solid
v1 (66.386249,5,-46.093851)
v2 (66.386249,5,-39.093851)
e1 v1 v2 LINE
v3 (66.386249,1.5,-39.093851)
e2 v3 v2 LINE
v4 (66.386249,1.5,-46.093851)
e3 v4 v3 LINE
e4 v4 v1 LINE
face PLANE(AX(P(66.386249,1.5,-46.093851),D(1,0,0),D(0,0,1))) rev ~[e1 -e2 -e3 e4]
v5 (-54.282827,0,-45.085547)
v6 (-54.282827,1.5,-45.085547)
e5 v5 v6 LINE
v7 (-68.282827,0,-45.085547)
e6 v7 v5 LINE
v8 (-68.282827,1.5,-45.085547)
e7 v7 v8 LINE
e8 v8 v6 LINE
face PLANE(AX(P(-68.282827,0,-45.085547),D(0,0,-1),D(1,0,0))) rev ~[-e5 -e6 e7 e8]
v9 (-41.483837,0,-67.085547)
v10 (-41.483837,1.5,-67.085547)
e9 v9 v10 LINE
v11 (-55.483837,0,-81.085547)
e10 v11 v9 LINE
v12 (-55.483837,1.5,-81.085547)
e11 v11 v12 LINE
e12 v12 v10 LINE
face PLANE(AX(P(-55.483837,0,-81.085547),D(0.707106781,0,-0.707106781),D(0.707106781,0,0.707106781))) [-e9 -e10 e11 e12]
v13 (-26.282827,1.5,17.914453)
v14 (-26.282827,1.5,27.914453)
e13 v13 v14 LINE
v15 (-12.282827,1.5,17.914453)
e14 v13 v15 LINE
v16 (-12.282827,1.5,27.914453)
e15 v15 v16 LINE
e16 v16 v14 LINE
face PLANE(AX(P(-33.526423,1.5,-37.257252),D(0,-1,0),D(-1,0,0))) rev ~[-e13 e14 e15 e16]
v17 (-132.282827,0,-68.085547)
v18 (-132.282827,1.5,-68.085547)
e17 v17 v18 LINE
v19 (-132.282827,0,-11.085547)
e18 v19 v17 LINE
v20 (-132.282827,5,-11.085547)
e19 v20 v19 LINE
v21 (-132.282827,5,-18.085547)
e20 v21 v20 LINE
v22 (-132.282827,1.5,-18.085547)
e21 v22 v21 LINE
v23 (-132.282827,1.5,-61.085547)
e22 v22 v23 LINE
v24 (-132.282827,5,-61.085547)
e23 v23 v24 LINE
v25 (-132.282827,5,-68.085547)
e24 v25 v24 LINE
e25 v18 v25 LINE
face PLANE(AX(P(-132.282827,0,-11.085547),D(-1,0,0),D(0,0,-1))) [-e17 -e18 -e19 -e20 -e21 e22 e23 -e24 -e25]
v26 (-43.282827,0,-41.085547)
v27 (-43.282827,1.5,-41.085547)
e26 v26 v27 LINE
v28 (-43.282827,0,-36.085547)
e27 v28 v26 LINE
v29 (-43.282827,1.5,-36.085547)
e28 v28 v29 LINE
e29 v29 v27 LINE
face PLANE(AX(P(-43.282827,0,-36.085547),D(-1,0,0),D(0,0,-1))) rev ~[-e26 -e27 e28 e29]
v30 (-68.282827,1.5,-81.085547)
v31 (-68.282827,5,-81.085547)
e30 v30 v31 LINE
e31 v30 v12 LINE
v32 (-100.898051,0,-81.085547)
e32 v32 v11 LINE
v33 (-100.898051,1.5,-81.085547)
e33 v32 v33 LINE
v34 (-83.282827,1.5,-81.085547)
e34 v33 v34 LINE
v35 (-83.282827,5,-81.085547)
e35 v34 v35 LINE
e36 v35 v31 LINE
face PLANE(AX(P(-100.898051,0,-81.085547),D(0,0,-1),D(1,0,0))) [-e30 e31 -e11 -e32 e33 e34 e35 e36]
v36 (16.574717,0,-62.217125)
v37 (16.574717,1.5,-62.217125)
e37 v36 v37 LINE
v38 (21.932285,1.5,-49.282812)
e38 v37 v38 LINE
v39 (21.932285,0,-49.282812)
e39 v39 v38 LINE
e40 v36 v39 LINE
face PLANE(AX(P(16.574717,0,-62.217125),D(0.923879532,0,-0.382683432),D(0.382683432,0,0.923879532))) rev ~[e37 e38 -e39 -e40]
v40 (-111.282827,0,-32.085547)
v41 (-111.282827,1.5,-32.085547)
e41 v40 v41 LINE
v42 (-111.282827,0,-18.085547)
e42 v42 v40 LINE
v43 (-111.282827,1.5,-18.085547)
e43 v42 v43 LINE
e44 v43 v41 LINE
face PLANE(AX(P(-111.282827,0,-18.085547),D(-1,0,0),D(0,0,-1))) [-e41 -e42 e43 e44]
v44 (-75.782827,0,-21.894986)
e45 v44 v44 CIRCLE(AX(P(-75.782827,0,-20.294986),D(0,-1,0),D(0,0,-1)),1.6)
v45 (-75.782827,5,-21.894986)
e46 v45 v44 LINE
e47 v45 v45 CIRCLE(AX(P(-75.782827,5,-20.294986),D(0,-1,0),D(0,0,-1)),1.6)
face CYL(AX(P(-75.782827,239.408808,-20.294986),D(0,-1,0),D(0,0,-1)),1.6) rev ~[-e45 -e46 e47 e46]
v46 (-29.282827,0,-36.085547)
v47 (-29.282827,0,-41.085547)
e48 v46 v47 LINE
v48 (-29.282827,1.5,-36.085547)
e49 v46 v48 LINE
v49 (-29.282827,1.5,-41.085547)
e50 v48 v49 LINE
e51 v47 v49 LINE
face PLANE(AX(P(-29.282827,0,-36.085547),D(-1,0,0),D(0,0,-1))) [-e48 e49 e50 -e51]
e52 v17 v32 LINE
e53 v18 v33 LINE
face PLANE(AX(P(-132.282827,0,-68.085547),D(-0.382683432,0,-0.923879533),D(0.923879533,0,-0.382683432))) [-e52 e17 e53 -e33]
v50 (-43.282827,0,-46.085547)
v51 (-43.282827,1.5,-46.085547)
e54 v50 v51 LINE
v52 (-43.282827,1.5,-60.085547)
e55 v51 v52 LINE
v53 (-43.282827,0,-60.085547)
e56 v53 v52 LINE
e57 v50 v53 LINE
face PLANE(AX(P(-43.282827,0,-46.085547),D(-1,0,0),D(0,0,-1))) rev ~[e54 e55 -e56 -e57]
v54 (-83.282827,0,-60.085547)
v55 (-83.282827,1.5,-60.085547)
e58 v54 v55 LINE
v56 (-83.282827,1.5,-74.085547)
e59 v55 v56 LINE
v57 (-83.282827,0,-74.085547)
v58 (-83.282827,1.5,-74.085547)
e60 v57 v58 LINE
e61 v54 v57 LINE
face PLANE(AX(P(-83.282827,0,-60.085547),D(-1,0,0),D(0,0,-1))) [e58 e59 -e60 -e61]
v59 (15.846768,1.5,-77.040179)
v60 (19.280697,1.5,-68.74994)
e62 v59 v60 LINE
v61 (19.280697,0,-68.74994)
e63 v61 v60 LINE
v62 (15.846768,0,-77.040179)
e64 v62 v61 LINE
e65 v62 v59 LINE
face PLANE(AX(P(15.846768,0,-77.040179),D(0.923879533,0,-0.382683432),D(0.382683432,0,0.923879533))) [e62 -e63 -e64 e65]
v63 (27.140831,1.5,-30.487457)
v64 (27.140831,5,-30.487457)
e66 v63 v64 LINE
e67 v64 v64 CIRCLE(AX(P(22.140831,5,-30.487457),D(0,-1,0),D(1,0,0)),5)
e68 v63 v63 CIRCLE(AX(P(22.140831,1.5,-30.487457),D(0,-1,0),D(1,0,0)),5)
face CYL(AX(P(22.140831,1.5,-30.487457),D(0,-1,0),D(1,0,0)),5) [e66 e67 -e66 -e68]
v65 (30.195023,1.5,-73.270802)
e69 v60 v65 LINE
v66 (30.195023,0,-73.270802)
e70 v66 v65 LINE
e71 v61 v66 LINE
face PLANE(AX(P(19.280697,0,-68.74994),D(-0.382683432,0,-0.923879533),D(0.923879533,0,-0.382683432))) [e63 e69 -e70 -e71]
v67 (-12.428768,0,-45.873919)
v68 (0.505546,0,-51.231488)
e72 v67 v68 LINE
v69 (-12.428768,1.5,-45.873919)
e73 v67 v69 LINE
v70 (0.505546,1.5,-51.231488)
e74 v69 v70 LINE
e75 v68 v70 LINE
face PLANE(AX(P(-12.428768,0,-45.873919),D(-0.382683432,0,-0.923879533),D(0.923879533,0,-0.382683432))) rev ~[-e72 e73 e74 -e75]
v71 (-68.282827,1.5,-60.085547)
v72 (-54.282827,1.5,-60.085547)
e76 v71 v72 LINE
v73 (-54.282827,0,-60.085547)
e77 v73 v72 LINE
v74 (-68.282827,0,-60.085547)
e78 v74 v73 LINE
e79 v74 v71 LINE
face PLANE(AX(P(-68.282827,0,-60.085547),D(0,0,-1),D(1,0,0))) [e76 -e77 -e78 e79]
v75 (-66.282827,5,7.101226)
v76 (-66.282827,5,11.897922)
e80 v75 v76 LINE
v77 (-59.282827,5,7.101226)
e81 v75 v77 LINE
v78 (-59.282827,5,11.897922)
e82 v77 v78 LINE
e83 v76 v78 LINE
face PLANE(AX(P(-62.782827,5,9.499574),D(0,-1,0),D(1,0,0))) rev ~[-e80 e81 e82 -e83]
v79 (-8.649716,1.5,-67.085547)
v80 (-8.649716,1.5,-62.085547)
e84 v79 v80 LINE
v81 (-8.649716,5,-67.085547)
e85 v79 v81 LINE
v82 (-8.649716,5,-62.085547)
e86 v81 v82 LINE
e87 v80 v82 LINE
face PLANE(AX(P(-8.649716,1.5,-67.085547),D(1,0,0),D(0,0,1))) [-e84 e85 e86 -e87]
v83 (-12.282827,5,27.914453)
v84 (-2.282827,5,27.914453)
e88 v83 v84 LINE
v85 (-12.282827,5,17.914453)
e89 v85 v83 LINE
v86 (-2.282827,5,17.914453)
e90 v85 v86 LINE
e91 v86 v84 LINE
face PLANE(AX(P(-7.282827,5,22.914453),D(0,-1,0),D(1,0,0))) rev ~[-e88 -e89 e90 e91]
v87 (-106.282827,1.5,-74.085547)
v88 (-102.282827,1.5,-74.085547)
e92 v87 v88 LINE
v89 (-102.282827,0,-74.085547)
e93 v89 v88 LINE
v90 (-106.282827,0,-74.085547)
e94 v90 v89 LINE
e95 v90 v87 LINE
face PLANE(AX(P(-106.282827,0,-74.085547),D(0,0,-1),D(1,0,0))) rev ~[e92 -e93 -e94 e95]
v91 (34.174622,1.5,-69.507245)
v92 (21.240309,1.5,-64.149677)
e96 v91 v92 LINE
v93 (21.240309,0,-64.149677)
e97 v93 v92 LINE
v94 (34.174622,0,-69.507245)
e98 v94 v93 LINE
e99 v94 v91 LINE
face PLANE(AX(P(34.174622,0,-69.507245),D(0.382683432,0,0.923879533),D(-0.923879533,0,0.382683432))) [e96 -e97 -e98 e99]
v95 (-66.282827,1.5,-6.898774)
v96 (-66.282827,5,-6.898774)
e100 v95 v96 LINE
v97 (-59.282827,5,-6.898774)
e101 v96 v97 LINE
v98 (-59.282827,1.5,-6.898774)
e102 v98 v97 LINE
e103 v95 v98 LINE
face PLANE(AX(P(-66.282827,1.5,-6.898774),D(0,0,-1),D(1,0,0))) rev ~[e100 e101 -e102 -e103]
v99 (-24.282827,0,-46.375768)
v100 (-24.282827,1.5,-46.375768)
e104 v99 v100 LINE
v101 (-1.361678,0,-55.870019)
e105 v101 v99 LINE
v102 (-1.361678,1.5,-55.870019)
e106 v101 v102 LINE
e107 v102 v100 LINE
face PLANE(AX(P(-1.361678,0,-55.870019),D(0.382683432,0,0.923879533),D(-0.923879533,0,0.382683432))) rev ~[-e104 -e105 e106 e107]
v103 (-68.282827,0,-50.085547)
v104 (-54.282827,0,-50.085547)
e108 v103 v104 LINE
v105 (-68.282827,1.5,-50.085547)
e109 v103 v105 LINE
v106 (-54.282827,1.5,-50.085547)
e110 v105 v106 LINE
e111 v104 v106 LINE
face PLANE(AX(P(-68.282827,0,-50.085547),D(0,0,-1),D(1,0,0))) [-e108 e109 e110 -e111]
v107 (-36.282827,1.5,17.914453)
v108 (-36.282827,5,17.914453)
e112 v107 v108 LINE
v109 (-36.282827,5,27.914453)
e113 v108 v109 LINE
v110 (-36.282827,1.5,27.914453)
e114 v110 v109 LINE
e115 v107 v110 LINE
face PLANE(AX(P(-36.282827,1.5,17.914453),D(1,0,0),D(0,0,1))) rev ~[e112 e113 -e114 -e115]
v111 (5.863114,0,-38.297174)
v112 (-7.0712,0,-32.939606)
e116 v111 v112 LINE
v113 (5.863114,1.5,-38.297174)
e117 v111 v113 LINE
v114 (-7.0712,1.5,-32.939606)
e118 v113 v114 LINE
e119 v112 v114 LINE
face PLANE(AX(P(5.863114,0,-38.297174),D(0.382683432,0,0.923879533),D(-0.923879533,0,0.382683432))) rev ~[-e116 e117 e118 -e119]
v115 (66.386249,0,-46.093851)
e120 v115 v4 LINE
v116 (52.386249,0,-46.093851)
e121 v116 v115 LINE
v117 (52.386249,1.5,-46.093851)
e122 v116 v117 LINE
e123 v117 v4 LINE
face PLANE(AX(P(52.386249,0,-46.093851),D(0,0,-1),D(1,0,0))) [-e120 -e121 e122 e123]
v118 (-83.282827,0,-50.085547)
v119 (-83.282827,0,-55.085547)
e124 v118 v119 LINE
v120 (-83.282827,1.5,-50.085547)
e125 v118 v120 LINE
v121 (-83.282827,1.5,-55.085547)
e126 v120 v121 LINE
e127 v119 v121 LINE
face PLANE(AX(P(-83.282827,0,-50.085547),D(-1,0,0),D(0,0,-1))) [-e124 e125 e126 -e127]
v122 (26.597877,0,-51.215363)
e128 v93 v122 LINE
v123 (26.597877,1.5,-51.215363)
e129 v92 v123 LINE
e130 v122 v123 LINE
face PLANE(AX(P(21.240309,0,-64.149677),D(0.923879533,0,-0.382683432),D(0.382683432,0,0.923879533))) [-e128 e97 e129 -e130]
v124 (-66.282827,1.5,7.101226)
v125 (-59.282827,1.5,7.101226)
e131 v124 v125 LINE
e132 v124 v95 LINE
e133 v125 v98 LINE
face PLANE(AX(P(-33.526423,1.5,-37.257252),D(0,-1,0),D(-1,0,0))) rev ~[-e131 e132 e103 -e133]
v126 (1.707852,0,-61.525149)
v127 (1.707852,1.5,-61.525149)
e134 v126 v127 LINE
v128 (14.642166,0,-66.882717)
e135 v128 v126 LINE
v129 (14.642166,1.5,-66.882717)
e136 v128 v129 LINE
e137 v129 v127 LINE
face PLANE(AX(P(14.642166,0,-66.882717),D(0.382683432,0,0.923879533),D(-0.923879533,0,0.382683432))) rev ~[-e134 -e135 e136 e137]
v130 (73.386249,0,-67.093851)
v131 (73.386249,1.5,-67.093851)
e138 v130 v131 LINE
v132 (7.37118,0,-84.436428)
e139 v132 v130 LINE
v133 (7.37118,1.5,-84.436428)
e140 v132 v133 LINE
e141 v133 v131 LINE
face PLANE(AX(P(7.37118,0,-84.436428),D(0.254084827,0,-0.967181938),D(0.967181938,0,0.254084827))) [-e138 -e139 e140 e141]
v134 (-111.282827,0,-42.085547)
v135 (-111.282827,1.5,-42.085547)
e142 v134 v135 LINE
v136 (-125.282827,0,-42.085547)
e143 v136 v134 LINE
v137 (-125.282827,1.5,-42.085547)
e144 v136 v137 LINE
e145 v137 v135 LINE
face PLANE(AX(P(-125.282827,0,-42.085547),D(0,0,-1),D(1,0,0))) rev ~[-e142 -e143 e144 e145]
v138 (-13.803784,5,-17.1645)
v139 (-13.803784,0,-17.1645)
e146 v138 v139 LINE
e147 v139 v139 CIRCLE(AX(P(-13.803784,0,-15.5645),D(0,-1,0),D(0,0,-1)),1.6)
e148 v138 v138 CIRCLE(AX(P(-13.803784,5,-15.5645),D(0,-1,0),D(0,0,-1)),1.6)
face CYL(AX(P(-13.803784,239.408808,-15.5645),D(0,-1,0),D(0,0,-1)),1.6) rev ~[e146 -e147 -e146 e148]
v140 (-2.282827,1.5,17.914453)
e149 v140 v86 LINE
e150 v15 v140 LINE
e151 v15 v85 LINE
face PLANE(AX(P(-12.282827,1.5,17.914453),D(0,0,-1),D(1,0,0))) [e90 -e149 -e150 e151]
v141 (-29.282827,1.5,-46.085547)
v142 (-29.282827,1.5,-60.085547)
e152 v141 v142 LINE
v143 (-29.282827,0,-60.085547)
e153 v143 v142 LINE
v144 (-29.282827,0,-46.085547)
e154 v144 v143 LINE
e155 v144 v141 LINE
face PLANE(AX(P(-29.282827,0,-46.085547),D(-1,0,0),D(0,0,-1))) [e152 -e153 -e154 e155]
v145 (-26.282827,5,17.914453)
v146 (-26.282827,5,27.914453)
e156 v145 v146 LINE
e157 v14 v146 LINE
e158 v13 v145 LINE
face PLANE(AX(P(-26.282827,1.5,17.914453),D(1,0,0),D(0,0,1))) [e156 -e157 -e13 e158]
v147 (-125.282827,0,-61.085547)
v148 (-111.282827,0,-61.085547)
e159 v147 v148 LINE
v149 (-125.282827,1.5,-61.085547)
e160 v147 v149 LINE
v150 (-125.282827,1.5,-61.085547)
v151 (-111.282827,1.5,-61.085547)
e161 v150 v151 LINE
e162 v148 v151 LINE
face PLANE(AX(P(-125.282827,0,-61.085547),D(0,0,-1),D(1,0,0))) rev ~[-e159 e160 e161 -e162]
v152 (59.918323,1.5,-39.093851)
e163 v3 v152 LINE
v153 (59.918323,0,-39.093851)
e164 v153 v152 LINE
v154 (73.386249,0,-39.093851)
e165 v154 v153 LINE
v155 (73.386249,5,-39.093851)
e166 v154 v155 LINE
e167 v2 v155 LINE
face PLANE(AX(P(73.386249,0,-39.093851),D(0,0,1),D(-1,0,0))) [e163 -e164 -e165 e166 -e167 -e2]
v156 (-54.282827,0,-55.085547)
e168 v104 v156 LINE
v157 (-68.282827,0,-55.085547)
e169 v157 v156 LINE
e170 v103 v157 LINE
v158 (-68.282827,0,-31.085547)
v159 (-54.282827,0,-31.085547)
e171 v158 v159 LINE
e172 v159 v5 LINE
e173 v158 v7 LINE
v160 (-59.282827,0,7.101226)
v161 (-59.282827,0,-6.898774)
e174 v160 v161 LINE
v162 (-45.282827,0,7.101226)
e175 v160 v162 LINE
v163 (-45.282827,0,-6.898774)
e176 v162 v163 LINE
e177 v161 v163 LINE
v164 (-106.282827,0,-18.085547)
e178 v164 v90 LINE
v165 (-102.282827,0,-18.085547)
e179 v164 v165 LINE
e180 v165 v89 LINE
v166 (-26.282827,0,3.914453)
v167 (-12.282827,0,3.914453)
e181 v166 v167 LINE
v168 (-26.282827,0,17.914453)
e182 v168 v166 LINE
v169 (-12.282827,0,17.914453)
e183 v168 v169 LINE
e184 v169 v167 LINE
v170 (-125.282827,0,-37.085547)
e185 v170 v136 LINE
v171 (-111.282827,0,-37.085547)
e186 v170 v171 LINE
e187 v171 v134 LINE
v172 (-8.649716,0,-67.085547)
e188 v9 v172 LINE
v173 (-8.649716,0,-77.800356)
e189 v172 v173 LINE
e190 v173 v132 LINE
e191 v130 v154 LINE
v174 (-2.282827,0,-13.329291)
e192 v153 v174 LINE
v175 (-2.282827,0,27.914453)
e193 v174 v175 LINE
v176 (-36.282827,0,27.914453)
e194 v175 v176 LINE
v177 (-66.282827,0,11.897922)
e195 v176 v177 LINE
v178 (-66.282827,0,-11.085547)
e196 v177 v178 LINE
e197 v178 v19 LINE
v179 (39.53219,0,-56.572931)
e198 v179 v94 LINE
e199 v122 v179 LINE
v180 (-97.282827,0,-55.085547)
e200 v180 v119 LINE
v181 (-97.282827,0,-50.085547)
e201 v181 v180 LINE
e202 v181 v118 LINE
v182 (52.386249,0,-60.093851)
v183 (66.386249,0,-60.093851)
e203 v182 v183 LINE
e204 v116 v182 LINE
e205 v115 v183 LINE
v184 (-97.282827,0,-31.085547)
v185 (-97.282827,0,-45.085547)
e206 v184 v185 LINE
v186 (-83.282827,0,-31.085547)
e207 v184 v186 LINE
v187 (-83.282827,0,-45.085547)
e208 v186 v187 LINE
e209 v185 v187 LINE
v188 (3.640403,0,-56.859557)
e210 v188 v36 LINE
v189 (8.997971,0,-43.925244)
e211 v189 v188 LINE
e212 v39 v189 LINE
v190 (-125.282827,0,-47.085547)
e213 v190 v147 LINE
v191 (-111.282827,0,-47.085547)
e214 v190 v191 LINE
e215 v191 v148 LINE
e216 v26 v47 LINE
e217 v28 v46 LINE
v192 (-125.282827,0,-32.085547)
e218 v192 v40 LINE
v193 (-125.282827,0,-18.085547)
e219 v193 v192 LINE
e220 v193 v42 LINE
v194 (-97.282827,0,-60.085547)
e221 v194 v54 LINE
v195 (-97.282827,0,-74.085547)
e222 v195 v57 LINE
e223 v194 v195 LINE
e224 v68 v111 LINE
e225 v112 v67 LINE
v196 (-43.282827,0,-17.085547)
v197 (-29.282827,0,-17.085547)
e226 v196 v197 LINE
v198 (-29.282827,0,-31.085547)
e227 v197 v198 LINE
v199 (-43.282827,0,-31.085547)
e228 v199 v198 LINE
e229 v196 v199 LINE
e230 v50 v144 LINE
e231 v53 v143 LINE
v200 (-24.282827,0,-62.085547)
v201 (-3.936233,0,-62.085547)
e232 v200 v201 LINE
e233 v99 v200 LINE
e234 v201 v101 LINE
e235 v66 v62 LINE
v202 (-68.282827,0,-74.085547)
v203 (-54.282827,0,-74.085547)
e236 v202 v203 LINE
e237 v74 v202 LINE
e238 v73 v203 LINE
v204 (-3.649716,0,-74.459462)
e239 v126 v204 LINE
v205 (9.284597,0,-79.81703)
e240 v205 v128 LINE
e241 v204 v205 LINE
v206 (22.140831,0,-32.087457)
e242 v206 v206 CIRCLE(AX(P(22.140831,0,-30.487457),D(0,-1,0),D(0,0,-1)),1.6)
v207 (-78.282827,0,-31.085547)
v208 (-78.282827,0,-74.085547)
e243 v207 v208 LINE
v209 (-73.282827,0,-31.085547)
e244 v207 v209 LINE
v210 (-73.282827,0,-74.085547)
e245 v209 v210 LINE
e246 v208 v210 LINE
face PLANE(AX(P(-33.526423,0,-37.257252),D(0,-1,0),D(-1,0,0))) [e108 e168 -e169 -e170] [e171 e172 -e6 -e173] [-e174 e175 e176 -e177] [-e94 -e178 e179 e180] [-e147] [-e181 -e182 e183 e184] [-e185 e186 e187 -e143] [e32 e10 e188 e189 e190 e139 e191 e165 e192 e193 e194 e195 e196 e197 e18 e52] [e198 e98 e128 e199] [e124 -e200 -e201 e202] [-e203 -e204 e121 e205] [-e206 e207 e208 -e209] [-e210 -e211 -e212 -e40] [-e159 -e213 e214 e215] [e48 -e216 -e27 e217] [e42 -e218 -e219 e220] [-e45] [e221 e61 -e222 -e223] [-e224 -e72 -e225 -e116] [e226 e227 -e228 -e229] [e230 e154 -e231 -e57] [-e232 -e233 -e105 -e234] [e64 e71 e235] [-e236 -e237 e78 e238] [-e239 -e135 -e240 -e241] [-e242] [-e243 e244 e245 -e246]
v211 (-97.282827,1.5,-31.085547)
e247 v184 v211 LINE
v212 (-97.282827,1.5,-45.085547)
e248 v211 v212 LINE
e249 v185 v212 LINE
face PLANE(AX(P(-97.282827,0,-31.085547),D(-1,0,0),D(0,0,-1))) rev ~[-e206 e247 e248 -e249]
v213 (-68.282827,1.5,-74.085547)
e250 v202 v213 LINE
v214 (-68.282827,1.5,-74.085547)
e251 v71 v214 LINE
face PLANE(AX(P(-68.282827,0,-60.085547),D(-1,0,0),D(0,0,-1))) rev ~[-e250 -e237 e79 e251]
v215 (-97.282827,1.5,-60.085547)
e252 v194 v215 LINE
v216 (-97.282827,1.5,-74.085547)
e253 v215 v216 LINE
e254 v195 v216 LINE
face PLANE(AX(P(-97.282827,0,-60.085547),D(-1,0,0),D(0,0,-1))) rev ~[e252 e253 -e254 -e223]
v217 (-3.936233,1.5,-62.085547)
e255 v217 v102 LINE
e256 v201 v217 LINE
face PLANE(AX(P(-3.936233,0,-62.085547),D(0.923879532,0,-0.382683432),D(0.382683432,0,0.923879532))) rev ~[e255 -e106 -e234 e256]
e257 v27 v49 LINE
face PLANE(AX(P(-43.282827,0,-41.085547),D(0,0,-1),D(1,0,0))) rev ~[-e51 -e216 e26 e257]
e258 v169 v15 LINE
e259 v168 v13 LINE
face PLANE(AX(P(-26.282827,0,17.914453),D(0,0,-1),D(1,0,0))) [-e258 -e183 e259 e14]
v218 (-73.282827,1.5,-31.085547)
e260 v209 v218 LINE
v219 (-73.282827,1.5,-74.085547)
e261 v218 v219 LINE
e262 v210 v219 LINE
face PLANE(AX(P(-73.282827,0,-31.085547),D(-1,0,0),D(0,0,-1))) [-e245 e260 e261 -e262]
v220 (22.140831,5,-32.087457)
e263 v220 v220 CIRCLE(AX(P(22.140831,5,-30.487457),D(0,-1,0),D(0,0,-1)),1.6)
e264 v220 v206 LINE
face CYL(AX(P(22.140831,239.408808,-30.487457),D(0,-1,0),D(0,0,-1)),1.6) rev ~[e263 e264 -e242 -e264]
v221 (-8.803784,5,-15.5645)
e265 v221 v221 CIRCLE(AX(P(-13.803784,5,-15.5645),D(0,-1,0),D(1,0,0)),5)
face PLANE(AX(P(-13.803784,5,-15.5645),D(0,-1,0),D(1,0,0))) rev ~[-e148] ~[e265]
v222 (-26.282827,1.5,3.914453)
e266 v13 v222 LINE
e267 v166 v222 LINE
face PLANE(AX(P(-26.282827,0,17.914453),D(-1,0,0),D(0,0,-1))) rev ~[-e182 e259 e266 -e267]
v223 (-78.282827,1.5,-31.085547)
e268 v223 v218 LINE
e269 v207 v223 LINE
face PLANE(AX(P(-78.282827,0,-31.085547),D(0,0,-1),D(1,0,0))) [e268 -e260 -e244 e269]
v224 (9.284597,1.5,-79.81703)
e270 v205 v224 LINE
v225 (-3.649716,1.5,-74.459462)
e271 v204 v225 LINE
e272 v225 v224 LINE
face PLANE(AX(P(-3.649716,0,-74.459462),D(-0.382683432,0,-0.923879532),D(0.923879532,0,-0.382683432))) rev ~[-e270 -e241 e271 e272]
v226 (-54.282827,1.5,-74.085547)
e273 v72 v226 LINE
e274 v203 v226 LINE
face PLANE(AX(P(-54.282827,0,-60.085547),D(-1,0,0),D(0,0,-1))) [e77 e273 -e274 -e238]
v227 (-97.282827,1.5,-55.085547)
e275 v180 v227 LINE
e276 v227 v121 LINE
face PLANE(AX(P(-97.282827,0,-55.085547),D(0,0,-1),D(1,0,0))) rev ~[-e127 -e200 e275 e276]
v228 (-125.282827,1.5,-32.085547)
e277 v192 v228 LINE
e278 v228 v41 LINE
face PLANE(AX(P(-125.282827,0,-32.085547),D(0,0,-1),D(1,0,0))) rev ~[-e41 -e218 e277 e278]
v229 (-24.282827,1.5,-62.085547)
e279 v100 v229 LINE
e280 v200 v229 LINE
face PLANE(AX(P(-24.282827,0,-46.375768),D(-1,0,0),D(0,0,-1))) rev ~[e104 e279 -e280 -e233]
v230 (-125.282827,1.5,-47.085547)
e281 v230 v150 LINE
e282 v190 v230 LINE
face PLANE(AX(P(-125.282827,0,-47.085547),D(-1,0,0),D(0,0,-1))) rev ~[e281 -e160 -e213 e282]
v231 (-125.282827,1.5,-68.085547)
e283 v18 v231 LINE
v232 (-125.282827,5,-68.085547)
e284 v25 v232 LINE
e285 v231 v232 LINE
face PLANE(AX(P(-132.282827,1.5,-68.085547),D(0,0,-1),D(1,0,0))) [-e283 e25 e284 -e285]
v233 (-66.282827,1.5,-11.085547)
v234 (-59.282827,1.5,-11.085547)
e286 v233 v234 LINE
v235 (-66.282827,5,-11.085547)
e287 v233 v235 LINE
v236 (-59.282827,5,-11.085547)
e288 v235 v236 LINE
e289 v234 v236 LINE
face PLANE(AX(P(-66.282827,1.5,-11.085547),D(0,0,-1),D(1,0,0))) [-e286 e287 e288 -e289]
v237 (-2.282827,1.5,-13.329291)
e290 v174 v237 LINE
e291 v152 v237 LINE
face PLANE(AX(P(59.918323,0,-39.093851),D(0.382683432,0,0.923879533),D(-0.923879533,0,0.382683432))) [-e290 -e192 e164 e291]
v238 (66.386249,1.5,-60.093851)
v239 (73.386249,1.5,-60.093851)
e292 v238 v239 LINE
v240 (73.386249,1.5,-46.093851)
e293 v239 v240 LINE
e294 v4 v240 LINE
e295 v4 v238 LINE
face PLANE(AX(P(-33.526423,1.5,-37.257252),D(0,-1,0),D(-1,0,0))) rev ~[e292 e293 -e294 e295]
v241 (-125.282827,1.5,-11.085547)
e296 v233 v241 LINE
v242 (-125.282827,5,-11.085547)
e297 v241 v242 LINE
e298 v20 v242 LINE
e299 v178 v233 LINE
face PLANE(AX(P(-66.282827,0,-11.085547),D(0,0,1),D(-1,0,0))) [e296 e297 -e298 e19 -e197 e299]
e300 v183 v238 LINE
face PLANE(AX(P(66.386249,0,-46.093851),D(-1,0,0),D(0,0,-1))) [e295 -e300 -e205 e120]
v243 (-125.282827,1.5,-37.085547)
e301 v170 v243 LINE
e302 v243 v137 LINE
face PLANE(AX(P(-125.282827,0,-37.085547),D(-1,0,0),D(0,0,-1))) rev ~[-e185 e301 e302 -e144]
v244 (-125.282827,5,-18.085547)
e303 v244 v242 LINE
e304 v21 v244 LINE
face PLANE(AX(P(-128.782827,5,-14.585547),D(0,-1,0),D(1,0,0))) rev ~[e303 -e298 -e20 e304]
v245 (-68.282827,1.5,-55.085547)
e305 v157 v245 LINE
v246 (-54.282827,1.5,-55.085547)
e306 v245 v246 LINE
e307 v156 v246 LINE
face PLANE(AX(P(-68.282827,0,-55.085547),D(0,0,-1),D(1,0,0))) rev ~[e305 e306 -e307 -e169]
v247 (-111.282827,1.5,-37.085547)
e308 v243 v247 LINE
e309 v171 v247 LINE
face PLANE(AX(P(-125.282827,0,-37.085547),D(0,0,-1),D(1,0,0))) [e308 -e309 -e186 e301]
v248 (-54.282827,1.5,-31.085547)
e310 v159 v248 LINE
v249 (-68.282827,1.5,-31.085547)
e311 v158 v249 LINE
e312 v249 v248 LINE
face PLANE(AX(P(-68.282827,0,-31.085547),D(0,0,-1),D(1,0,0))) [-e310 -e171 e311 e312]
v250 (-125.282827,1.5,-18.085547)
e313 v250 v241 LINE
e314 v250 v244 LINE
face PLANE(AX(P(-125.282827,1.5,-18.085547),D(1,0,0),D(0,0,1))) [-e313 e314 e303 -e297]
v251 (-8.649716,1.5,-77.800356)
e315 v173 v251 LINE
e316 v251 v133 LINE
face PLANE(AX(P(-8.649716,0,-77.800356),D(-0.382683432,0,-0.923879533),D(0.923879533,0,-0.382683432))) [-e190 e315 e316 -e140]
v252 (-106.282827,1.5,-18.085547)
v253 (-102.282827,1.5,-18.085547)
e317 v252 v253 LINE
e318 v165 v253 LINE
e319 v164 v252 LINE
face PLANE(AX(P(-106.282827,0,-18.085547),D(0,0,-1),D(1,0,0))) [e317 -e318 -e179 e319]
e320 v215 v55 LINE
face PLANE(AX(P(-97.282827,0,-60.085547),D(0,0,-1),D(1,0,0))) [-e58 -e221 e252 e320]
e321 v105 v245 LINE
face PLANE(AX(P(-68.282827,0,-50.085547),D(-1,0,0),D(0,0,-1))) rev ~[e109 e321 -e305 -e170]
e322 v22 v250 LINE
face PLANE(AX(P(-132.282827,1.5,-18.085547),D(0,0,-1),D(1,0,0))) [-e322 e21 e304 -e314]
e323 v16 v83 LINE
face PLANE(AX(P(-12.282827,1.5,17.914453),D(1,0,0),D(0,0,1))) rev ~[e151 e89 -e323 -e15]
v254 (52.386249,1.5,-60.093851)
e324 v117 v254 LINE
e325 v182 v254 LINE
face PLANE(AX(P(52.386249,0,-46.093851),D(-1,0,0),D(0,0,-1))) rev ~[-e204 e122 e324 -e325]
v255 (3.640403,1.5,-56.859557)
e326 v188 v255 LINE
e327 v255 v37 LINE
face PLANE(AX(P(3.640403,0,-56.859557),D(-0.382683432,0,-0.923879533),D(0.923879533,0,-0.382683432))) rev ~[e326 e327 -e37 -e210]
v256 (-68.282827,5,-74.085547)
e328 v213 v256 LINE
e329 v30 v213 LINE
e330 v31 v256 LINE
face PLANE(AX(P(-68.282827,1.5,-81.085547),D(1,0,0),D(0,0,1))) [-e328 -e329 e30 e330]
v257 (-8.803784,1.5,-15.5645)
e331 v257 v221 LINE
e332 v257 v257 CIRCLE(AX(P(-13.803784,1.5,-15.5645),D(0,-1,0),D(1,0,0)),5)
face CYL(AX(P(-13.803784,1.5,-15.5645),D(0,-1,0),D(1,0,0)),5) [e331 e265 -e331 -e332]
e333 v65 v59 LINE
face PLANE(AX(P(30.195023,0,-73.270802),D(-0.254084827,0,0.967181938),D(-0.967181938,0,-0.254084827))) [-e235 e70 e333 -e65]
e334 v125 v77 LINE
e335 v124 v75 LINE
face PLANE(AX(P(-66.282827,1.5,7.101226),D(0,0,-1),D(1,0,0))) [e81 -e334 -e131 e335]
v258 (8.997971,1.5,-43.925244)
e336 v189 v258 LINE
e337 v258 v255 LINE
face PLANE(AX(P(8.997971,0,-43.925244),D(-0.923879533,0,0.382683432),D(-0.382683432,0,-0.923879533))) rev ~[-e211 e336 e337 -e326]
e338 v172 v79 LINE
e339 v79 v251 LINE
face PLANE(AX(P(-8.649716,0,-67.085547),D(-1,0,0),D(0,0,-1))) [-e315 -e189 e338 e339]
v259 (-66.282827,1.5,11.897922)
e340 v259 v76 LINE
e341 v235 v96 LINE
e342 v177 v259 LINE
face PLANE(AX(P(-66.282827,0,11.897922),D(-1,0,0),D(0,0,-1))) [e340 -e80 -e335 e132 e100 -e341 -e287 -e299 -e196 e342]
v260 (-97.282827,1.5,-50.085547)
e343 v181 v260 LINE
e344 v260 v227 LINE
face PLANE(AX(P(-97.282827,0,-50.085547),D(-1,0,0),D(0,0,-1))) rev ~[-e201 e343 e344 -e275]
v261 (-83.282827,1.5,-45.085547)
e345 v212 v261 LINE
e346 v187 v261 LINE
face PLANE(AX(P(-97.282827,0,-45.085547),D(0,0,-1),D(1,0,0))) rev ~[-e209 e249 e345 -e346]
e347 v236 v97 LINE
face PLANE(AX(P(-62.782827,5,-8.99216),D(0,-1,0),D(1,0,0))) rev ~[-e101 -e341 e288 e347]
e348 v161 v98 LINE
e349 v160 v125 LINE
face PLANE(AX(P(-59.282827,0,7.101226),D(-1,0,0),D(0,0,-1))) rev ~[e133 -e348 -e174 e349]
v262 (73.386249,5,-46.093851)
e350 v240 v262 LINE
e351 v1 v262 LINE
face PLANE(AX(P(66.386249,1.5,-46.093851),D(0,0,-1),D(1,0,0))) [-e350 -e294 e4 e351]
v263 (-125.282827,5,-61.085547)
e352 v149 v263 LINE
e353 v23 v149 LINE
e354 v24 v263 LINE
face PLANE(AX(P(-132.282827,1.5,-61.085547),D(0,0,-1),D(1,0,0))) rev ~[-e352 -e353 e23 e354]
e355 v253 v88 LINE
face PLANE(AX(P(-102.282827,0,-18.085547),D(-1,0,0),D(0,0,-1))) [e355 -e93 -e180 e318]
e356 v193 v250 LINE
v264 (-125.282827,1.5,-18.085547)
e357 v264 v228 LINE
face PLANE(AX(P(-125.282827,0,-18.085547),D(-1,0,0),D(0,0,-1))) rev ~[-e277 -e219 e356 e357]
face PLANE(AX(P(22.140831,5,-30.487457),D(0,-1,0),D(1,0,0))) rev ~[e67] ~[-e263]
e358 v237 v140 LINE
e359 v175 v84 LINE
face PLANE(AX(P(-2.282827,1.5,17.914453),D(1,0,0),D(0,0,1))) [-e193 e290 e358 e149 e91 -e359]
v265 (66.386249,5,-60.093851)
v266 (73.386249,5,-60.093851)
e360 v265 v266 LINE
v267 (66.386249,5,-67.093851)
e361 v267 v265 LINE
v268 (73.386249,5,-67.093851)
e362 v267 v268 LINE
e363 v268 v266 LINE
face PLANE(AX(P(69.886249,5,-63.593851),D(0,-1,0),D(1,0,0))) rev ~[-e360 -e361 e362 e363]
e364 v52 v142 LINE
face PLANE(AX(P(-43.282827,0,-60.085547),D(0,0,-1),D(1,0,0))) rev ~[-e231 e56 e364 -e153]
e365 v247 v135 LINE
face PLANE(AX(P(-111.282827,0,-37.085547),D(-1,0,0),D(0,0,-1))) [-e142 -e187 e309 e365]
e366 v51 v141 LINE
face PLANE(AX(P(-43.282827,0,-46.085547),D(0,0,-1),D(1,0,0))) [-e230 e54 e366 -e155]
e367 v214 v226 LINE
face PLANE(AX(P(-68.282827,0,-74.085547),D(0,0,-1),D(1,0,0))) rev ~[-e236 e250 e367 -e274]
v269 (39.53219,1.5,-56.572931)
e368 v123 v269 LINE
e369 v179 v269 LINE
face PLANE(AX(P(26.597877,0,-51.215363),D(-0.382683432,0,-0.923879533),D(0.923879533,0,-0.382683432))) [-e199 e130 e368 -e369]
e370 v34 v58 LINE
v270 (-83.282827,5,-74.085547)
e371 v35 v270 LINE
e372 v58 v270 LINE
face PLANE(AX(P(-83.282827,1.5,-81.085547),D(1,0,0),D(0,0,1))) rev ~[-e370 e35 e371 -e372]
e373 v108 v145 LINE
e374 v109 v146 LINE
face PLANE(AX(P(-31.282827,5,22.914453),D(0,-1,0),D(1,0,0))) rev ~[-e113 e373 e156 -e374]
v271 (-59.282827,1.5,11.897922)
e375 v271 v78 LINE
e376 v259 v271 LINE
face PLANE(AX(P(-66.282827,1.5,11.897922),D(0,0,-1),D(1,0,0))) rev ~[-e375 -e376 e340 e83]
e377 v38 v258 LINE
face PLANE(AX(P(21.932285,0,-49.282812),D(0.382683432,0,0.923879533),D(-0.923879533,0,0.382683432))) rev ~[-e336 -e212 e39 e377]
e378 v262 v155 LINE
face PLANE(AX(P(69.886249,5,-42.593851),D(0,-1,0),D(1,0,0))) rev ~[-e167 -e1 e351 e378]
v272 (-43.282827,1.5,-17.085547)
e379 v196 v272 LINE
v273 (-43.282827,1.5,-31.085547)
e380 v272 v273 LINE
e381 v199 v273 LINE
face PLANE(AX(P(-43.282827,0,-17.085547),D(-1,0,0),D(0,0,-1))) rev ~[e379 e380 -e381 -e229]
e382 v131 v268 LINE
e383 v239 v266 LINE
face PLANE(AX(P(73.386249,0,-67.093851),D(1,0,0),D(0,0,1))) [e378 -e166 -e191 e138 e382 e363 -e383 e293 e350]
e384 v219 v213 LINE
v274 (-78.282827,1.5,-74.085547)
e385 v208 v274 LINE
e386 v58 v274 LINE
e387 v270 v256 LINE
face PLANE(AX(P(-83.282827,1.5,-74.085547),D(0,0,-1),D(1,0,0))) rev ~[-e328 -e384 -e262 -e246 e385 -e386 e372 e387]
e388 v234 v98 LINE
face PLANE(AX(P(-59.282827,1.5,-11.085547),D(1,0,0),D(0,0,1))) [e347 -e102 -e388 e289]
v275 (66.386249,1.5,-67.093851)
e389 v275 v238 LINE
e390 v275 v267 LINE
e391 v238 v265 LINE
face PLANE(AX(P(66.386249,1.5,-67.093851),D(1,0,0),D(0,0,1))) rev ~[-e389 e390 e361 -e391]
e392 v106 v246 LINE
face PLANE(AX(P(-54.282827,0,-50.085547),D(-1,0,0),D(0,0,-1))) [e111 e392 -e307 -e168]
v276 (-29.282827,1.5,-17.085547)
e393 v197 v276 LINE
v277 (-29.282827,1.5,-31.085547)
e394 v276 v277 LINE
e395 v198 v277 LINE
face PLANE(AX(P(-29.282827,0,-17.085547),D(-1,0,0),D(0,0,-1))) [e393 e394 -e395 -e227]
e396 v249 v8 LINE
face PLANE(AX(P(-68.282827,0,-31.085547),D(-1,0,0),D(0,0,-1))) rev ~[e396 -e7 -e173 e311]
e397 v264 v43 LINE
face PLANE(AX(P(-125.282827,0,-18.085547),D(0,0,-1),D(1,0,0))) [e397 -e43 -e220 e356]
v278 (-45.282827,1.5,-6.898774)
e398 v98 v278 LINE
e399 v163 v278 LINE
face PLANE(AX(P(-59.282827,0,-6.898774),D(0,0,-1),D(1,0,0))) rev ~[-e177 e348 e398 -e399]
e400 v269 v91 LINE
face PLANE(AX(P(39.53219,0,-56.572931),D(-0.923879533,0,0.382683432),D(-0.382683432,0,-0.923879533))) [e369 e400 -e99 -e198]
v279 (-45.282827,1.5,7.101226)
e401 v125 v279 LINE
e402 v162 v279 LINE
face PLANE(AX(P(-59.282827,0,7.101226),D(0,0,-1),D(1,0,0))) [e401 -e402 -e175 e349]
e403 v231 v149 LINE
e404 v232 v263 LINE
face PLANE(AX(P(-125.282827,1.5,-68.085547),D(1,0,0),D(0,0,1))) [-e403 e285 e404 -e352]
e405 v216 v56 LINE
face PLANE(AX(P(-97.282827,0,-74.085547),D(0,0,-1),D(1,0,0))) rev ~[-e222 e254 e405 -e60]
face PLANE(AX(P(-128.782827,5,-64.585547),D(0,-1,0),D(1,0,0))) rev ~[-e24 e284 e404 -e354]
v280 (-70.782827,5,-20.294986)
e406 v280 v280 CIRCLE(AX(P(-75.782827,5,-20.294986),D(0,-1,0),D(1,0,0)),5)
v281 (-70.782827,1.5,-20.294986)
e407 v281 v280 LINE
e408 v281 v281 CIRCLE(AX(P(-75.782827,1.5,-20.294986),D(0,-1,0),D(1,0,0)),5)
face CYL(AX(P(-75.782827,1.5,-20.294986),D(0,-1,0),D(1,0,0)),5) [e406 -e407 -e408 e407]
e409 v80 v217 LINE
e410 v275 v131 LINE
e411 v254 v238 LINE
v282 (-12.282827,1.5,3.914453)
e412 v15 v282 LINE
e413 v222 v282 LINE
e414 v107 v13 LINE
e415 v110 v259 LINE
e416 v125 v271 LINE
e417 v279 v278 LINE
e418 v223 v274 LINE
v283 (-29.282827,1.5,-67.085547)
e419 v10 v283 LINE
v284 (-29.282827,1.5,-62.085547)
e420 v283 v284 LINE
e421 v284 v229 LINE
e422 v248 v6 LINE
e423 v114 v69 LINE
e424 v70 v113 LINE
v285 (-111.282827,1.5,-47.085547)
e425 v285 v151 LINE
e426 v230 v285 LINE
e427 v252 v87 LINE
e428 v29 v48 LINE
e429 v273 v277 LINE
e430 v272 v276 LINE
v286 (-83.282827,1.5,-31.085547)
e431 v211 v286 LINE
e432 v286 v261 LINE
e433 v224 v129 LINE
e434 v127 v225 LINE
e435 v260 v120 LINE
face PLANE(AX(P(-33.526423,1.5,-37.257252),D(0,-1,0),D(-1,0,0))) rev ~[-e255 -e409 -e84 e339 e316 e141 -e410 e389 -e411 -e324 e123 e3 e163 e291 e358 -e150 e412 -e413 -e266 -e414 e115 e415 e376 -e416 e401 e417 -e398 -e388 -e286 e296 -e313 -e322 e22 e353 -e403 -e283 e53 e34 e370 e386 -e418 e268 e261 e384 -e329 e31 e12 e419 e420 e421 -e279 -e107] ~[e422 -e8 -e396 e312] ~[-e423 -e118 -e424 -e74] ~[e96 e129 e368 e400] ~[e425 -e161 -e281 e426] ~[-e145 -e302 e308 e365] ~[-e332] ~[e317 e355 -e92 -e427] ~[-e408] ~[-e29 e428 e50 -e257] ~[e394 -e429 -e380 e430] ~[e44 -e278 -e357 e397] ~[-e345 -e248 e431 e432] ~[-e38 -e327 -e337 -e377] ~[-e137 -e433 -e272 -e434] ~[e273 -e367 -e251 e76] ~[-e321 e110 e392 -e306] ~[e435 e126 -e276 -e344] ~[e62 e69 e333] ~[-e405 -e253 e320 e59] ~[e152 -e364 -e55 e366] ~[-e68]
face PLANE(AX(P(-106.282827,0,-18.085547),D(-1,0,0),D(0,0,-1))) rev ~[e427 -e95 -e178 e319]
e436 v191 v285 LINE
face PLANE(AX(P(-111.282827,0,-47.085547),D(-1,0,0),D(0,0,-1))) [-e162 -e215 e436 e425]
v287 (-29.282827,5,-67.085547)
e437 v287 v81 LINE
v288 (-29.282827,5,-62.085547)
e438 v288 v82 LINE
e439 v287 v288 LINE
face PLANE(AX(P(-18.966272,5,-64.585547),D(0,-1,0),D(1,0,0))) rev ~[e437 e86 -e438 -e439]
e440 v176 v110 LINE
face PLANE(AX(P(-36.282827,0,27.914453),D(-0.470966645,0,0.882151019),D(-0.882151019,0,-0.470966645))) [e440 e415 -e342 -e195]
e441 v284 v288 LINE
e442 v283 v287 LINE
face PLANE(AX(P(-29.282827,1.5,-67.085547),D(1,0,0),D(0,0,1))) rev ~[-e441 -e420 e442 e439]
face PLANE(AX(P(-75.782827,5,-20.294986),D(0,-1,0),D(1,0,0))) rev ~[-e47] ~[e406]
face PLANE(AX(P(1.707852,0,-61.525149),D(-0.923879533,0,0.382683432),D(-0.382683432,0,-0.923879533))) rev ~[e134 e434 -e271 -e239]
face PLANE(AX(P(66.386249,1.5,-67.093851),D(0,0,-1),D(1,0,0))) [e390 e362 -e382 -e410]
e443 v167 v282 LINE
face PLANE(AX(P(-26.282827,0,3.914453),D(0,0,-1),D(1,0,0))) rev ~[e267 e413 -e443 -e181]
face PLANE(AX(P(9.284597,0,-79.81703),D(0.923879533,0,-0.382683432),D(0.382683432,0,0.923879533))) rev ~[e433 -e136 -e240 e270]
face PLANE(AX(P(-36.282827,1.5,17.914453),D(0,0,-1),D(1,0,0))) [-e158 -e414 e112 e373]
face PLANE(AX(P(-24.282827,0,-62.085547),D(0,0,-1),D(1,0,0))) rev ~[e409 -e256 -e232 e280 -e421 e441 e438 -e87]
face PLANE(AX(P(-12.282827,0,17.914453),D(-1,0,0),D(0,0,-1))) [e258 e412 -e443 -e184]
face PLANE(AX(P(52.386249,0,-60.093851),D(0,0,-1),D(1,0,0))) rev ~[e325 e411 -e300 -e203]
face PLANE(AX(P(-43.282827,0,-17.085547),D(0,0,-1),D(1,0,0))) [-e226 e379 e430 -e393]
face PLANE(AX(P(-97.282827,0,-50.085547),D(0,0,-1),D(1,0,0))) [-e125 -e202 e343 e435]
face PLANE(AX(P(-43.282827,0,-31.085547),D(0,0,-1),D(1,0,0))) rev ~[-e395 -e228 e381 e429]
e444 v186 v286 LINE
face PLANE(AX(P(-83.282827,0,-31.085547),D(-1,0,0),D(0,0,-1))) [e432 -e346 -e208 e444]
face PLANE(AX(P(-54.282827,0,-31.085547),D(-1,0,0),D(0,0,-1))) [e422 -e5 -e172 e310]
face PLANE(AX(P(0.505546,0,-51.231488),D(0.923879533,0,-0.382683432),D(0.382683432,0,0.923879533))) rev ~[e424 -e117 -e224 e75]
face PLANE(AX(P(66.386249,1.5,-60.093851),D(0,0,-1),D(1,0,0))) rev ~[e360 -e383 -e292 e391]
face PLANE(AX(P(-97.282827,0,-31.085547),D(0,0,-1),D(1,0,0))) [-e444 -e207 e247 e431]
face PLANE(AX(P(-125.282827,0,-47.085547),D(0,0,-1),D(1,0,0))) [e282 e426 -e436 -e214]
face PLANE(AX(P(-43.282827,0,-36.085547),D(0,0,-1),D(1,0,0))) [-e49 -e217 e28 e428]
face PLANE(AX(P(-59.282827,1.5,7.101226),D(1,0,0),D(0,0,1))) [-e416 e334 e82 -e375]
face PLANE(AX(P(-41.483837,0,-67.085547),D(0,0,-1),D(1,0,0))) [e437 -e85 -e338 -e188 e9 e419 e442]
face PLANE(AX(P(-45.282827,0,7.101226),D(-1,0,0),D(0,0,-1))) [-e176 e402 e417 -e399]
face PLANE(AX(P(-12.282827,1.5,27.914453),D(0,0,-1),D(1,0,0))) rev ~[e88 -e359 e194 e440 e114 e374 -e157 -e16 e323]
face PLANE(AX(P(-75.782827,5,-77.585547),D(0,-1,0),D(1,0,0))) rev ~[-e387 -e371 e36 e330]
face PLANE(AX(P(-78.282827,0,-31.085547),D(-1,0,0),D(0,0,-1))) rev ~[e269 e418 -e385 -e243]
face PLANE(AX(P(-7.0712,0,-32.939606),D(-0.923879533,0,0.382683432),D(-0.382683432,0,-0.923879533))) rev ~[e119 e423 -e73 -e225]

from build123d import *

# Parameters (mm, degrees)
SKETCH2_W            = 14
SKETCH2_H            = 14
SKETCH2_W_2          = 4
SKETCH2_H_2          = 56
SKETCH2_W_3          = 5
SKETCH2_H_3          = 43
SKETCH2_H_4          = 5
KEY_PLATE_DEPTH      = 1.5
SKETCH4_W            = 10
SKETCH4_H            = 10
SKETCH4_W_2          = 7
SKETCH4_H_2          = 7
SKETCH4_H_3          = 4.796695527
SKETCH4_H_4          = 4.186773245
SKETCH4_W_3          = 15
SKETCH4_W_4          = 20.633111118
SKETCH4_H_5          = 5
STANDOFFS_DEPTH      = 3.5
SKETCH6_R            = 5
SCREW_GUIDES_DEPTH   = 3.5
M3_CLEARANCE_HOLE1_D = 3.2


with BuildPart() as part:
    # Sketch2 → Key Plate (new body)
    with BuildSketch(Plane(origin=(0, 0, 0), x_dir=(1, 0, 0), z_dir=(0, 1, 0))):
        Polygon((-132.282827099, 11.085546756), (-132.282827099, 68.085546756), (-100.898050788, 81.085546756), (-55.483837226, 81.085546756), (-41.483837226, 67.085546756), (-8.649715981, 67.085546756), (-8.649715981, 77.800355514), (7.371180312, 84.43642804), (73.386249254, 67.093850916), (73.386249254, 39.093850916), (59.91832331, 39.093850916), (-2.282827099, 13.329290821), (-2.282827099, -27.914453244), (-36.282827099, -27.914453244), (-66.282827099, -11.897922016), (-66.282827099, 11.085546756), align=None)
        Polygon((5.863113655, 38.297174055), (-7.0711998, 32.939606002), (-12.428767853, 45.873919457), (0.505545602, 51.23148751), align=None, mode=Mode.SUBTRACT)
        with Locations((-118.282827099, 54.085546756)):
            Rectangle(SKETCH2_W, SKETCH2_H, mode=Mode.SUBTRACT)
        with Locations((-90.282827099, 67.085546756)):
            Rectangle(SKETCH2_W, SKETCH2_H, mode=Mode.SUBTRACT)
        with Locations((-61.282827099, 67.085546756)):
            Rectangle(SKETCH2_W, SKETCH2_H, mode=Mode.SUBTRACT)
        with Locations((-36.282827099, 53.085546756)):
            Rectangle(SKETCH2_W, SKETCH2_H, mode=Mode.SUBTRACT)
        with Locations((-61.282827099, 38.085546756)):
            Rectangle(SKETCH2_W, SKETCH2_H, mode=Mode.SUBTRACT)
        with Locations((-90.282827099, 38.085546756)):
            Rectangle(SKETCH2_W, SKETCH2_H, mode=Mode.SUBTRACT)
        with Locations((-118.282827099, 25.085546756)):
            Rectangle(SKETCH2_W, SKETCH2_H, mode=Mode.SUBTRACT)
        with Locations((-52.282827099, -0.101226489)):
            Rectangle(SKETCH2_W, SKETCH2_H, mode=Mode.SUBTRACT)
        with Locations((-36.282827099, 24.085546756)):
            Rectangle(SKETCH2_W, SKETCH2_H, mode=Mode.SUBTRACT)
        with Locations((-19.282827099, -10.914453244)):
            Rectangle(SKETCH2_W, SKETCH2_H, mode=Mode.SUBTRACT)
        with Locations((59.386249254, 53.093850916)):
            Rectangle(SKETCH2_W, SKETCH2_H, mode=Mode.SUBTRACT)
        Polygon((-3.649715981, 74.459462324), (9.284597474, 79.817030378), (14.642165527, 66.882716922), (1.707852072, 61.525148869), align=None, mode=Mode.SUBTRACT)
        Polygon((3.640403405, 56.85955723), (16.57471686, 62.217125283), (21.932284914, 49.282811828), (8.997971458, 43.925243775), align=None, mode=Mode.SUBTRACT)
        Polygon((26.597876553, 51.215363162), (39.532190008, 56.572931215), (34.174621955, 69.50724467), (21.2403085, 64.149676617), align=None, mode=Mode.SUBTRACT)
        Polygon((-24.282827099, 62.085546756), (-3.936233335, 62.085546756), (-1.361677583, 55.870019344), (-24.282827099, 46.37576835), align=None, mode=Mode.SUBTRACT)
        with Locations((-104.282827099, 46.085546756)):
            Rectangle(SKETCH2_W_2, SKETCH2_H_2, mode=Mode.SUBTRACT)
        with Locations((-75.782827099, 52.585546756)):
            Rectangle(SKETCH2_W_3, SKETCH2_H_3, mode=Mode.SUBTRACT)
        with Locations((-90.282827099, 52.585546756)):
            Rectangle(SKETCH2_W, SKETCH2_H_4, mode=Mode.SUBTRACT)
        with Locations((-61.282827099, 52.585546756)):
            Rectangle(SKETCH2_W, SKETCH2_H_4, mode=Mode.SUBTRACT)
        with Locations((-36.282827099, 38.585546756)):
            Rectangle(SKETCH2_W, SKETCH2_H_4, mode=Mode.SUBTRACT)
        with Locations((-118.282827099, 39.585546756)):
            Rectangle(SKETCH2_W, SKETCH2_H_4, mode=Mode.SUBTRACT)
        Polygon((19.280697361, 68.749940108), (30.195022846, 73.270801748), (15.846767853, 77.040179298), align=None, mode=Mode.SUBTRACT)
    extrude(amount=KEY_PLATE_DEPTH)

    # Sketch4 → Standoffs (add)
    with BuildSketch(Plane.XZ.offset(-1.5)):
        with Locations((-7.282827099, 22.914453244)):
            Rectangle(SKETCH4_W, SKETCH4_H)
        with Locations((69.886249254, -42.593850916)):
            Rectangle(SKETCH4_W_2, SKETCH4_H_2)
        with Locations((69.886249254, -63.593850916)):
            Rectangle(SKETCH4_W_2, SKETCH4_H_2)
        with Locations((-128.782827099, -14.585546756)):
            Rectangle(SKETCH4_W_2, SKETCH4_H_2)
        with Locations((-128.782827099, -64.585546756)):
            Rectangle(SKETCH4_W_2, SKETCH4_H_2)
        with Locations((-62.782827099, 9.499574253)):
            Rectangle(SKETCH4_W_2, SKETCH4_H_3)
        with Locations((-31.282827099, 22.914453244)):
            Rectangle(SKETCH4_W, SKETCH4_H)
        with Locations((-62.782827099, -8.992160134)):
            Rectangle(SKETCH4_W_2, SKETCH4_H_4)
        with Locations((-75.782827099, -77.585546756)):
            Rectangle(SKETCH4_W_3, SKETCH4_H_2)
        with Locations((-18.96627154, -64.585546756)):
            Rectangle(SKETCH4_W_4, SKETCH4_H_5)
    extrude(amount=-STANDOFFS_DEPTH)

    # Sketch6 → Screw Guides (add)
    with BuildSketch(Plane.XZ.offset(-1.5)):
        with Locations((22.140830524, -30.487456679)):
            Circle(SKETCH6_R)
        with Locations((-13.803783609, -15.564500098)):
            Circle(SKETCH6_R)
        with Locations((-75.782827099, -20.294986151)):
            Circle(SKETCH6_R)
    extrude(amount=-SCREW_GUIDES_DEPTH)

    # M3 Clearance Hole1 (through all)
    with Locations(Plane(origin=(22.140830524, 5, -30.487456679), x_dir=(0, 0, 1), z_dir=(0, 1, 0))):
        with Locations((0, 0), (10.192470528, -97.923657623), (14.922956581, -35.944614133)):
            Hole(M3_CLEARANCE_HOLE1_D / 2)


solid = part.part
